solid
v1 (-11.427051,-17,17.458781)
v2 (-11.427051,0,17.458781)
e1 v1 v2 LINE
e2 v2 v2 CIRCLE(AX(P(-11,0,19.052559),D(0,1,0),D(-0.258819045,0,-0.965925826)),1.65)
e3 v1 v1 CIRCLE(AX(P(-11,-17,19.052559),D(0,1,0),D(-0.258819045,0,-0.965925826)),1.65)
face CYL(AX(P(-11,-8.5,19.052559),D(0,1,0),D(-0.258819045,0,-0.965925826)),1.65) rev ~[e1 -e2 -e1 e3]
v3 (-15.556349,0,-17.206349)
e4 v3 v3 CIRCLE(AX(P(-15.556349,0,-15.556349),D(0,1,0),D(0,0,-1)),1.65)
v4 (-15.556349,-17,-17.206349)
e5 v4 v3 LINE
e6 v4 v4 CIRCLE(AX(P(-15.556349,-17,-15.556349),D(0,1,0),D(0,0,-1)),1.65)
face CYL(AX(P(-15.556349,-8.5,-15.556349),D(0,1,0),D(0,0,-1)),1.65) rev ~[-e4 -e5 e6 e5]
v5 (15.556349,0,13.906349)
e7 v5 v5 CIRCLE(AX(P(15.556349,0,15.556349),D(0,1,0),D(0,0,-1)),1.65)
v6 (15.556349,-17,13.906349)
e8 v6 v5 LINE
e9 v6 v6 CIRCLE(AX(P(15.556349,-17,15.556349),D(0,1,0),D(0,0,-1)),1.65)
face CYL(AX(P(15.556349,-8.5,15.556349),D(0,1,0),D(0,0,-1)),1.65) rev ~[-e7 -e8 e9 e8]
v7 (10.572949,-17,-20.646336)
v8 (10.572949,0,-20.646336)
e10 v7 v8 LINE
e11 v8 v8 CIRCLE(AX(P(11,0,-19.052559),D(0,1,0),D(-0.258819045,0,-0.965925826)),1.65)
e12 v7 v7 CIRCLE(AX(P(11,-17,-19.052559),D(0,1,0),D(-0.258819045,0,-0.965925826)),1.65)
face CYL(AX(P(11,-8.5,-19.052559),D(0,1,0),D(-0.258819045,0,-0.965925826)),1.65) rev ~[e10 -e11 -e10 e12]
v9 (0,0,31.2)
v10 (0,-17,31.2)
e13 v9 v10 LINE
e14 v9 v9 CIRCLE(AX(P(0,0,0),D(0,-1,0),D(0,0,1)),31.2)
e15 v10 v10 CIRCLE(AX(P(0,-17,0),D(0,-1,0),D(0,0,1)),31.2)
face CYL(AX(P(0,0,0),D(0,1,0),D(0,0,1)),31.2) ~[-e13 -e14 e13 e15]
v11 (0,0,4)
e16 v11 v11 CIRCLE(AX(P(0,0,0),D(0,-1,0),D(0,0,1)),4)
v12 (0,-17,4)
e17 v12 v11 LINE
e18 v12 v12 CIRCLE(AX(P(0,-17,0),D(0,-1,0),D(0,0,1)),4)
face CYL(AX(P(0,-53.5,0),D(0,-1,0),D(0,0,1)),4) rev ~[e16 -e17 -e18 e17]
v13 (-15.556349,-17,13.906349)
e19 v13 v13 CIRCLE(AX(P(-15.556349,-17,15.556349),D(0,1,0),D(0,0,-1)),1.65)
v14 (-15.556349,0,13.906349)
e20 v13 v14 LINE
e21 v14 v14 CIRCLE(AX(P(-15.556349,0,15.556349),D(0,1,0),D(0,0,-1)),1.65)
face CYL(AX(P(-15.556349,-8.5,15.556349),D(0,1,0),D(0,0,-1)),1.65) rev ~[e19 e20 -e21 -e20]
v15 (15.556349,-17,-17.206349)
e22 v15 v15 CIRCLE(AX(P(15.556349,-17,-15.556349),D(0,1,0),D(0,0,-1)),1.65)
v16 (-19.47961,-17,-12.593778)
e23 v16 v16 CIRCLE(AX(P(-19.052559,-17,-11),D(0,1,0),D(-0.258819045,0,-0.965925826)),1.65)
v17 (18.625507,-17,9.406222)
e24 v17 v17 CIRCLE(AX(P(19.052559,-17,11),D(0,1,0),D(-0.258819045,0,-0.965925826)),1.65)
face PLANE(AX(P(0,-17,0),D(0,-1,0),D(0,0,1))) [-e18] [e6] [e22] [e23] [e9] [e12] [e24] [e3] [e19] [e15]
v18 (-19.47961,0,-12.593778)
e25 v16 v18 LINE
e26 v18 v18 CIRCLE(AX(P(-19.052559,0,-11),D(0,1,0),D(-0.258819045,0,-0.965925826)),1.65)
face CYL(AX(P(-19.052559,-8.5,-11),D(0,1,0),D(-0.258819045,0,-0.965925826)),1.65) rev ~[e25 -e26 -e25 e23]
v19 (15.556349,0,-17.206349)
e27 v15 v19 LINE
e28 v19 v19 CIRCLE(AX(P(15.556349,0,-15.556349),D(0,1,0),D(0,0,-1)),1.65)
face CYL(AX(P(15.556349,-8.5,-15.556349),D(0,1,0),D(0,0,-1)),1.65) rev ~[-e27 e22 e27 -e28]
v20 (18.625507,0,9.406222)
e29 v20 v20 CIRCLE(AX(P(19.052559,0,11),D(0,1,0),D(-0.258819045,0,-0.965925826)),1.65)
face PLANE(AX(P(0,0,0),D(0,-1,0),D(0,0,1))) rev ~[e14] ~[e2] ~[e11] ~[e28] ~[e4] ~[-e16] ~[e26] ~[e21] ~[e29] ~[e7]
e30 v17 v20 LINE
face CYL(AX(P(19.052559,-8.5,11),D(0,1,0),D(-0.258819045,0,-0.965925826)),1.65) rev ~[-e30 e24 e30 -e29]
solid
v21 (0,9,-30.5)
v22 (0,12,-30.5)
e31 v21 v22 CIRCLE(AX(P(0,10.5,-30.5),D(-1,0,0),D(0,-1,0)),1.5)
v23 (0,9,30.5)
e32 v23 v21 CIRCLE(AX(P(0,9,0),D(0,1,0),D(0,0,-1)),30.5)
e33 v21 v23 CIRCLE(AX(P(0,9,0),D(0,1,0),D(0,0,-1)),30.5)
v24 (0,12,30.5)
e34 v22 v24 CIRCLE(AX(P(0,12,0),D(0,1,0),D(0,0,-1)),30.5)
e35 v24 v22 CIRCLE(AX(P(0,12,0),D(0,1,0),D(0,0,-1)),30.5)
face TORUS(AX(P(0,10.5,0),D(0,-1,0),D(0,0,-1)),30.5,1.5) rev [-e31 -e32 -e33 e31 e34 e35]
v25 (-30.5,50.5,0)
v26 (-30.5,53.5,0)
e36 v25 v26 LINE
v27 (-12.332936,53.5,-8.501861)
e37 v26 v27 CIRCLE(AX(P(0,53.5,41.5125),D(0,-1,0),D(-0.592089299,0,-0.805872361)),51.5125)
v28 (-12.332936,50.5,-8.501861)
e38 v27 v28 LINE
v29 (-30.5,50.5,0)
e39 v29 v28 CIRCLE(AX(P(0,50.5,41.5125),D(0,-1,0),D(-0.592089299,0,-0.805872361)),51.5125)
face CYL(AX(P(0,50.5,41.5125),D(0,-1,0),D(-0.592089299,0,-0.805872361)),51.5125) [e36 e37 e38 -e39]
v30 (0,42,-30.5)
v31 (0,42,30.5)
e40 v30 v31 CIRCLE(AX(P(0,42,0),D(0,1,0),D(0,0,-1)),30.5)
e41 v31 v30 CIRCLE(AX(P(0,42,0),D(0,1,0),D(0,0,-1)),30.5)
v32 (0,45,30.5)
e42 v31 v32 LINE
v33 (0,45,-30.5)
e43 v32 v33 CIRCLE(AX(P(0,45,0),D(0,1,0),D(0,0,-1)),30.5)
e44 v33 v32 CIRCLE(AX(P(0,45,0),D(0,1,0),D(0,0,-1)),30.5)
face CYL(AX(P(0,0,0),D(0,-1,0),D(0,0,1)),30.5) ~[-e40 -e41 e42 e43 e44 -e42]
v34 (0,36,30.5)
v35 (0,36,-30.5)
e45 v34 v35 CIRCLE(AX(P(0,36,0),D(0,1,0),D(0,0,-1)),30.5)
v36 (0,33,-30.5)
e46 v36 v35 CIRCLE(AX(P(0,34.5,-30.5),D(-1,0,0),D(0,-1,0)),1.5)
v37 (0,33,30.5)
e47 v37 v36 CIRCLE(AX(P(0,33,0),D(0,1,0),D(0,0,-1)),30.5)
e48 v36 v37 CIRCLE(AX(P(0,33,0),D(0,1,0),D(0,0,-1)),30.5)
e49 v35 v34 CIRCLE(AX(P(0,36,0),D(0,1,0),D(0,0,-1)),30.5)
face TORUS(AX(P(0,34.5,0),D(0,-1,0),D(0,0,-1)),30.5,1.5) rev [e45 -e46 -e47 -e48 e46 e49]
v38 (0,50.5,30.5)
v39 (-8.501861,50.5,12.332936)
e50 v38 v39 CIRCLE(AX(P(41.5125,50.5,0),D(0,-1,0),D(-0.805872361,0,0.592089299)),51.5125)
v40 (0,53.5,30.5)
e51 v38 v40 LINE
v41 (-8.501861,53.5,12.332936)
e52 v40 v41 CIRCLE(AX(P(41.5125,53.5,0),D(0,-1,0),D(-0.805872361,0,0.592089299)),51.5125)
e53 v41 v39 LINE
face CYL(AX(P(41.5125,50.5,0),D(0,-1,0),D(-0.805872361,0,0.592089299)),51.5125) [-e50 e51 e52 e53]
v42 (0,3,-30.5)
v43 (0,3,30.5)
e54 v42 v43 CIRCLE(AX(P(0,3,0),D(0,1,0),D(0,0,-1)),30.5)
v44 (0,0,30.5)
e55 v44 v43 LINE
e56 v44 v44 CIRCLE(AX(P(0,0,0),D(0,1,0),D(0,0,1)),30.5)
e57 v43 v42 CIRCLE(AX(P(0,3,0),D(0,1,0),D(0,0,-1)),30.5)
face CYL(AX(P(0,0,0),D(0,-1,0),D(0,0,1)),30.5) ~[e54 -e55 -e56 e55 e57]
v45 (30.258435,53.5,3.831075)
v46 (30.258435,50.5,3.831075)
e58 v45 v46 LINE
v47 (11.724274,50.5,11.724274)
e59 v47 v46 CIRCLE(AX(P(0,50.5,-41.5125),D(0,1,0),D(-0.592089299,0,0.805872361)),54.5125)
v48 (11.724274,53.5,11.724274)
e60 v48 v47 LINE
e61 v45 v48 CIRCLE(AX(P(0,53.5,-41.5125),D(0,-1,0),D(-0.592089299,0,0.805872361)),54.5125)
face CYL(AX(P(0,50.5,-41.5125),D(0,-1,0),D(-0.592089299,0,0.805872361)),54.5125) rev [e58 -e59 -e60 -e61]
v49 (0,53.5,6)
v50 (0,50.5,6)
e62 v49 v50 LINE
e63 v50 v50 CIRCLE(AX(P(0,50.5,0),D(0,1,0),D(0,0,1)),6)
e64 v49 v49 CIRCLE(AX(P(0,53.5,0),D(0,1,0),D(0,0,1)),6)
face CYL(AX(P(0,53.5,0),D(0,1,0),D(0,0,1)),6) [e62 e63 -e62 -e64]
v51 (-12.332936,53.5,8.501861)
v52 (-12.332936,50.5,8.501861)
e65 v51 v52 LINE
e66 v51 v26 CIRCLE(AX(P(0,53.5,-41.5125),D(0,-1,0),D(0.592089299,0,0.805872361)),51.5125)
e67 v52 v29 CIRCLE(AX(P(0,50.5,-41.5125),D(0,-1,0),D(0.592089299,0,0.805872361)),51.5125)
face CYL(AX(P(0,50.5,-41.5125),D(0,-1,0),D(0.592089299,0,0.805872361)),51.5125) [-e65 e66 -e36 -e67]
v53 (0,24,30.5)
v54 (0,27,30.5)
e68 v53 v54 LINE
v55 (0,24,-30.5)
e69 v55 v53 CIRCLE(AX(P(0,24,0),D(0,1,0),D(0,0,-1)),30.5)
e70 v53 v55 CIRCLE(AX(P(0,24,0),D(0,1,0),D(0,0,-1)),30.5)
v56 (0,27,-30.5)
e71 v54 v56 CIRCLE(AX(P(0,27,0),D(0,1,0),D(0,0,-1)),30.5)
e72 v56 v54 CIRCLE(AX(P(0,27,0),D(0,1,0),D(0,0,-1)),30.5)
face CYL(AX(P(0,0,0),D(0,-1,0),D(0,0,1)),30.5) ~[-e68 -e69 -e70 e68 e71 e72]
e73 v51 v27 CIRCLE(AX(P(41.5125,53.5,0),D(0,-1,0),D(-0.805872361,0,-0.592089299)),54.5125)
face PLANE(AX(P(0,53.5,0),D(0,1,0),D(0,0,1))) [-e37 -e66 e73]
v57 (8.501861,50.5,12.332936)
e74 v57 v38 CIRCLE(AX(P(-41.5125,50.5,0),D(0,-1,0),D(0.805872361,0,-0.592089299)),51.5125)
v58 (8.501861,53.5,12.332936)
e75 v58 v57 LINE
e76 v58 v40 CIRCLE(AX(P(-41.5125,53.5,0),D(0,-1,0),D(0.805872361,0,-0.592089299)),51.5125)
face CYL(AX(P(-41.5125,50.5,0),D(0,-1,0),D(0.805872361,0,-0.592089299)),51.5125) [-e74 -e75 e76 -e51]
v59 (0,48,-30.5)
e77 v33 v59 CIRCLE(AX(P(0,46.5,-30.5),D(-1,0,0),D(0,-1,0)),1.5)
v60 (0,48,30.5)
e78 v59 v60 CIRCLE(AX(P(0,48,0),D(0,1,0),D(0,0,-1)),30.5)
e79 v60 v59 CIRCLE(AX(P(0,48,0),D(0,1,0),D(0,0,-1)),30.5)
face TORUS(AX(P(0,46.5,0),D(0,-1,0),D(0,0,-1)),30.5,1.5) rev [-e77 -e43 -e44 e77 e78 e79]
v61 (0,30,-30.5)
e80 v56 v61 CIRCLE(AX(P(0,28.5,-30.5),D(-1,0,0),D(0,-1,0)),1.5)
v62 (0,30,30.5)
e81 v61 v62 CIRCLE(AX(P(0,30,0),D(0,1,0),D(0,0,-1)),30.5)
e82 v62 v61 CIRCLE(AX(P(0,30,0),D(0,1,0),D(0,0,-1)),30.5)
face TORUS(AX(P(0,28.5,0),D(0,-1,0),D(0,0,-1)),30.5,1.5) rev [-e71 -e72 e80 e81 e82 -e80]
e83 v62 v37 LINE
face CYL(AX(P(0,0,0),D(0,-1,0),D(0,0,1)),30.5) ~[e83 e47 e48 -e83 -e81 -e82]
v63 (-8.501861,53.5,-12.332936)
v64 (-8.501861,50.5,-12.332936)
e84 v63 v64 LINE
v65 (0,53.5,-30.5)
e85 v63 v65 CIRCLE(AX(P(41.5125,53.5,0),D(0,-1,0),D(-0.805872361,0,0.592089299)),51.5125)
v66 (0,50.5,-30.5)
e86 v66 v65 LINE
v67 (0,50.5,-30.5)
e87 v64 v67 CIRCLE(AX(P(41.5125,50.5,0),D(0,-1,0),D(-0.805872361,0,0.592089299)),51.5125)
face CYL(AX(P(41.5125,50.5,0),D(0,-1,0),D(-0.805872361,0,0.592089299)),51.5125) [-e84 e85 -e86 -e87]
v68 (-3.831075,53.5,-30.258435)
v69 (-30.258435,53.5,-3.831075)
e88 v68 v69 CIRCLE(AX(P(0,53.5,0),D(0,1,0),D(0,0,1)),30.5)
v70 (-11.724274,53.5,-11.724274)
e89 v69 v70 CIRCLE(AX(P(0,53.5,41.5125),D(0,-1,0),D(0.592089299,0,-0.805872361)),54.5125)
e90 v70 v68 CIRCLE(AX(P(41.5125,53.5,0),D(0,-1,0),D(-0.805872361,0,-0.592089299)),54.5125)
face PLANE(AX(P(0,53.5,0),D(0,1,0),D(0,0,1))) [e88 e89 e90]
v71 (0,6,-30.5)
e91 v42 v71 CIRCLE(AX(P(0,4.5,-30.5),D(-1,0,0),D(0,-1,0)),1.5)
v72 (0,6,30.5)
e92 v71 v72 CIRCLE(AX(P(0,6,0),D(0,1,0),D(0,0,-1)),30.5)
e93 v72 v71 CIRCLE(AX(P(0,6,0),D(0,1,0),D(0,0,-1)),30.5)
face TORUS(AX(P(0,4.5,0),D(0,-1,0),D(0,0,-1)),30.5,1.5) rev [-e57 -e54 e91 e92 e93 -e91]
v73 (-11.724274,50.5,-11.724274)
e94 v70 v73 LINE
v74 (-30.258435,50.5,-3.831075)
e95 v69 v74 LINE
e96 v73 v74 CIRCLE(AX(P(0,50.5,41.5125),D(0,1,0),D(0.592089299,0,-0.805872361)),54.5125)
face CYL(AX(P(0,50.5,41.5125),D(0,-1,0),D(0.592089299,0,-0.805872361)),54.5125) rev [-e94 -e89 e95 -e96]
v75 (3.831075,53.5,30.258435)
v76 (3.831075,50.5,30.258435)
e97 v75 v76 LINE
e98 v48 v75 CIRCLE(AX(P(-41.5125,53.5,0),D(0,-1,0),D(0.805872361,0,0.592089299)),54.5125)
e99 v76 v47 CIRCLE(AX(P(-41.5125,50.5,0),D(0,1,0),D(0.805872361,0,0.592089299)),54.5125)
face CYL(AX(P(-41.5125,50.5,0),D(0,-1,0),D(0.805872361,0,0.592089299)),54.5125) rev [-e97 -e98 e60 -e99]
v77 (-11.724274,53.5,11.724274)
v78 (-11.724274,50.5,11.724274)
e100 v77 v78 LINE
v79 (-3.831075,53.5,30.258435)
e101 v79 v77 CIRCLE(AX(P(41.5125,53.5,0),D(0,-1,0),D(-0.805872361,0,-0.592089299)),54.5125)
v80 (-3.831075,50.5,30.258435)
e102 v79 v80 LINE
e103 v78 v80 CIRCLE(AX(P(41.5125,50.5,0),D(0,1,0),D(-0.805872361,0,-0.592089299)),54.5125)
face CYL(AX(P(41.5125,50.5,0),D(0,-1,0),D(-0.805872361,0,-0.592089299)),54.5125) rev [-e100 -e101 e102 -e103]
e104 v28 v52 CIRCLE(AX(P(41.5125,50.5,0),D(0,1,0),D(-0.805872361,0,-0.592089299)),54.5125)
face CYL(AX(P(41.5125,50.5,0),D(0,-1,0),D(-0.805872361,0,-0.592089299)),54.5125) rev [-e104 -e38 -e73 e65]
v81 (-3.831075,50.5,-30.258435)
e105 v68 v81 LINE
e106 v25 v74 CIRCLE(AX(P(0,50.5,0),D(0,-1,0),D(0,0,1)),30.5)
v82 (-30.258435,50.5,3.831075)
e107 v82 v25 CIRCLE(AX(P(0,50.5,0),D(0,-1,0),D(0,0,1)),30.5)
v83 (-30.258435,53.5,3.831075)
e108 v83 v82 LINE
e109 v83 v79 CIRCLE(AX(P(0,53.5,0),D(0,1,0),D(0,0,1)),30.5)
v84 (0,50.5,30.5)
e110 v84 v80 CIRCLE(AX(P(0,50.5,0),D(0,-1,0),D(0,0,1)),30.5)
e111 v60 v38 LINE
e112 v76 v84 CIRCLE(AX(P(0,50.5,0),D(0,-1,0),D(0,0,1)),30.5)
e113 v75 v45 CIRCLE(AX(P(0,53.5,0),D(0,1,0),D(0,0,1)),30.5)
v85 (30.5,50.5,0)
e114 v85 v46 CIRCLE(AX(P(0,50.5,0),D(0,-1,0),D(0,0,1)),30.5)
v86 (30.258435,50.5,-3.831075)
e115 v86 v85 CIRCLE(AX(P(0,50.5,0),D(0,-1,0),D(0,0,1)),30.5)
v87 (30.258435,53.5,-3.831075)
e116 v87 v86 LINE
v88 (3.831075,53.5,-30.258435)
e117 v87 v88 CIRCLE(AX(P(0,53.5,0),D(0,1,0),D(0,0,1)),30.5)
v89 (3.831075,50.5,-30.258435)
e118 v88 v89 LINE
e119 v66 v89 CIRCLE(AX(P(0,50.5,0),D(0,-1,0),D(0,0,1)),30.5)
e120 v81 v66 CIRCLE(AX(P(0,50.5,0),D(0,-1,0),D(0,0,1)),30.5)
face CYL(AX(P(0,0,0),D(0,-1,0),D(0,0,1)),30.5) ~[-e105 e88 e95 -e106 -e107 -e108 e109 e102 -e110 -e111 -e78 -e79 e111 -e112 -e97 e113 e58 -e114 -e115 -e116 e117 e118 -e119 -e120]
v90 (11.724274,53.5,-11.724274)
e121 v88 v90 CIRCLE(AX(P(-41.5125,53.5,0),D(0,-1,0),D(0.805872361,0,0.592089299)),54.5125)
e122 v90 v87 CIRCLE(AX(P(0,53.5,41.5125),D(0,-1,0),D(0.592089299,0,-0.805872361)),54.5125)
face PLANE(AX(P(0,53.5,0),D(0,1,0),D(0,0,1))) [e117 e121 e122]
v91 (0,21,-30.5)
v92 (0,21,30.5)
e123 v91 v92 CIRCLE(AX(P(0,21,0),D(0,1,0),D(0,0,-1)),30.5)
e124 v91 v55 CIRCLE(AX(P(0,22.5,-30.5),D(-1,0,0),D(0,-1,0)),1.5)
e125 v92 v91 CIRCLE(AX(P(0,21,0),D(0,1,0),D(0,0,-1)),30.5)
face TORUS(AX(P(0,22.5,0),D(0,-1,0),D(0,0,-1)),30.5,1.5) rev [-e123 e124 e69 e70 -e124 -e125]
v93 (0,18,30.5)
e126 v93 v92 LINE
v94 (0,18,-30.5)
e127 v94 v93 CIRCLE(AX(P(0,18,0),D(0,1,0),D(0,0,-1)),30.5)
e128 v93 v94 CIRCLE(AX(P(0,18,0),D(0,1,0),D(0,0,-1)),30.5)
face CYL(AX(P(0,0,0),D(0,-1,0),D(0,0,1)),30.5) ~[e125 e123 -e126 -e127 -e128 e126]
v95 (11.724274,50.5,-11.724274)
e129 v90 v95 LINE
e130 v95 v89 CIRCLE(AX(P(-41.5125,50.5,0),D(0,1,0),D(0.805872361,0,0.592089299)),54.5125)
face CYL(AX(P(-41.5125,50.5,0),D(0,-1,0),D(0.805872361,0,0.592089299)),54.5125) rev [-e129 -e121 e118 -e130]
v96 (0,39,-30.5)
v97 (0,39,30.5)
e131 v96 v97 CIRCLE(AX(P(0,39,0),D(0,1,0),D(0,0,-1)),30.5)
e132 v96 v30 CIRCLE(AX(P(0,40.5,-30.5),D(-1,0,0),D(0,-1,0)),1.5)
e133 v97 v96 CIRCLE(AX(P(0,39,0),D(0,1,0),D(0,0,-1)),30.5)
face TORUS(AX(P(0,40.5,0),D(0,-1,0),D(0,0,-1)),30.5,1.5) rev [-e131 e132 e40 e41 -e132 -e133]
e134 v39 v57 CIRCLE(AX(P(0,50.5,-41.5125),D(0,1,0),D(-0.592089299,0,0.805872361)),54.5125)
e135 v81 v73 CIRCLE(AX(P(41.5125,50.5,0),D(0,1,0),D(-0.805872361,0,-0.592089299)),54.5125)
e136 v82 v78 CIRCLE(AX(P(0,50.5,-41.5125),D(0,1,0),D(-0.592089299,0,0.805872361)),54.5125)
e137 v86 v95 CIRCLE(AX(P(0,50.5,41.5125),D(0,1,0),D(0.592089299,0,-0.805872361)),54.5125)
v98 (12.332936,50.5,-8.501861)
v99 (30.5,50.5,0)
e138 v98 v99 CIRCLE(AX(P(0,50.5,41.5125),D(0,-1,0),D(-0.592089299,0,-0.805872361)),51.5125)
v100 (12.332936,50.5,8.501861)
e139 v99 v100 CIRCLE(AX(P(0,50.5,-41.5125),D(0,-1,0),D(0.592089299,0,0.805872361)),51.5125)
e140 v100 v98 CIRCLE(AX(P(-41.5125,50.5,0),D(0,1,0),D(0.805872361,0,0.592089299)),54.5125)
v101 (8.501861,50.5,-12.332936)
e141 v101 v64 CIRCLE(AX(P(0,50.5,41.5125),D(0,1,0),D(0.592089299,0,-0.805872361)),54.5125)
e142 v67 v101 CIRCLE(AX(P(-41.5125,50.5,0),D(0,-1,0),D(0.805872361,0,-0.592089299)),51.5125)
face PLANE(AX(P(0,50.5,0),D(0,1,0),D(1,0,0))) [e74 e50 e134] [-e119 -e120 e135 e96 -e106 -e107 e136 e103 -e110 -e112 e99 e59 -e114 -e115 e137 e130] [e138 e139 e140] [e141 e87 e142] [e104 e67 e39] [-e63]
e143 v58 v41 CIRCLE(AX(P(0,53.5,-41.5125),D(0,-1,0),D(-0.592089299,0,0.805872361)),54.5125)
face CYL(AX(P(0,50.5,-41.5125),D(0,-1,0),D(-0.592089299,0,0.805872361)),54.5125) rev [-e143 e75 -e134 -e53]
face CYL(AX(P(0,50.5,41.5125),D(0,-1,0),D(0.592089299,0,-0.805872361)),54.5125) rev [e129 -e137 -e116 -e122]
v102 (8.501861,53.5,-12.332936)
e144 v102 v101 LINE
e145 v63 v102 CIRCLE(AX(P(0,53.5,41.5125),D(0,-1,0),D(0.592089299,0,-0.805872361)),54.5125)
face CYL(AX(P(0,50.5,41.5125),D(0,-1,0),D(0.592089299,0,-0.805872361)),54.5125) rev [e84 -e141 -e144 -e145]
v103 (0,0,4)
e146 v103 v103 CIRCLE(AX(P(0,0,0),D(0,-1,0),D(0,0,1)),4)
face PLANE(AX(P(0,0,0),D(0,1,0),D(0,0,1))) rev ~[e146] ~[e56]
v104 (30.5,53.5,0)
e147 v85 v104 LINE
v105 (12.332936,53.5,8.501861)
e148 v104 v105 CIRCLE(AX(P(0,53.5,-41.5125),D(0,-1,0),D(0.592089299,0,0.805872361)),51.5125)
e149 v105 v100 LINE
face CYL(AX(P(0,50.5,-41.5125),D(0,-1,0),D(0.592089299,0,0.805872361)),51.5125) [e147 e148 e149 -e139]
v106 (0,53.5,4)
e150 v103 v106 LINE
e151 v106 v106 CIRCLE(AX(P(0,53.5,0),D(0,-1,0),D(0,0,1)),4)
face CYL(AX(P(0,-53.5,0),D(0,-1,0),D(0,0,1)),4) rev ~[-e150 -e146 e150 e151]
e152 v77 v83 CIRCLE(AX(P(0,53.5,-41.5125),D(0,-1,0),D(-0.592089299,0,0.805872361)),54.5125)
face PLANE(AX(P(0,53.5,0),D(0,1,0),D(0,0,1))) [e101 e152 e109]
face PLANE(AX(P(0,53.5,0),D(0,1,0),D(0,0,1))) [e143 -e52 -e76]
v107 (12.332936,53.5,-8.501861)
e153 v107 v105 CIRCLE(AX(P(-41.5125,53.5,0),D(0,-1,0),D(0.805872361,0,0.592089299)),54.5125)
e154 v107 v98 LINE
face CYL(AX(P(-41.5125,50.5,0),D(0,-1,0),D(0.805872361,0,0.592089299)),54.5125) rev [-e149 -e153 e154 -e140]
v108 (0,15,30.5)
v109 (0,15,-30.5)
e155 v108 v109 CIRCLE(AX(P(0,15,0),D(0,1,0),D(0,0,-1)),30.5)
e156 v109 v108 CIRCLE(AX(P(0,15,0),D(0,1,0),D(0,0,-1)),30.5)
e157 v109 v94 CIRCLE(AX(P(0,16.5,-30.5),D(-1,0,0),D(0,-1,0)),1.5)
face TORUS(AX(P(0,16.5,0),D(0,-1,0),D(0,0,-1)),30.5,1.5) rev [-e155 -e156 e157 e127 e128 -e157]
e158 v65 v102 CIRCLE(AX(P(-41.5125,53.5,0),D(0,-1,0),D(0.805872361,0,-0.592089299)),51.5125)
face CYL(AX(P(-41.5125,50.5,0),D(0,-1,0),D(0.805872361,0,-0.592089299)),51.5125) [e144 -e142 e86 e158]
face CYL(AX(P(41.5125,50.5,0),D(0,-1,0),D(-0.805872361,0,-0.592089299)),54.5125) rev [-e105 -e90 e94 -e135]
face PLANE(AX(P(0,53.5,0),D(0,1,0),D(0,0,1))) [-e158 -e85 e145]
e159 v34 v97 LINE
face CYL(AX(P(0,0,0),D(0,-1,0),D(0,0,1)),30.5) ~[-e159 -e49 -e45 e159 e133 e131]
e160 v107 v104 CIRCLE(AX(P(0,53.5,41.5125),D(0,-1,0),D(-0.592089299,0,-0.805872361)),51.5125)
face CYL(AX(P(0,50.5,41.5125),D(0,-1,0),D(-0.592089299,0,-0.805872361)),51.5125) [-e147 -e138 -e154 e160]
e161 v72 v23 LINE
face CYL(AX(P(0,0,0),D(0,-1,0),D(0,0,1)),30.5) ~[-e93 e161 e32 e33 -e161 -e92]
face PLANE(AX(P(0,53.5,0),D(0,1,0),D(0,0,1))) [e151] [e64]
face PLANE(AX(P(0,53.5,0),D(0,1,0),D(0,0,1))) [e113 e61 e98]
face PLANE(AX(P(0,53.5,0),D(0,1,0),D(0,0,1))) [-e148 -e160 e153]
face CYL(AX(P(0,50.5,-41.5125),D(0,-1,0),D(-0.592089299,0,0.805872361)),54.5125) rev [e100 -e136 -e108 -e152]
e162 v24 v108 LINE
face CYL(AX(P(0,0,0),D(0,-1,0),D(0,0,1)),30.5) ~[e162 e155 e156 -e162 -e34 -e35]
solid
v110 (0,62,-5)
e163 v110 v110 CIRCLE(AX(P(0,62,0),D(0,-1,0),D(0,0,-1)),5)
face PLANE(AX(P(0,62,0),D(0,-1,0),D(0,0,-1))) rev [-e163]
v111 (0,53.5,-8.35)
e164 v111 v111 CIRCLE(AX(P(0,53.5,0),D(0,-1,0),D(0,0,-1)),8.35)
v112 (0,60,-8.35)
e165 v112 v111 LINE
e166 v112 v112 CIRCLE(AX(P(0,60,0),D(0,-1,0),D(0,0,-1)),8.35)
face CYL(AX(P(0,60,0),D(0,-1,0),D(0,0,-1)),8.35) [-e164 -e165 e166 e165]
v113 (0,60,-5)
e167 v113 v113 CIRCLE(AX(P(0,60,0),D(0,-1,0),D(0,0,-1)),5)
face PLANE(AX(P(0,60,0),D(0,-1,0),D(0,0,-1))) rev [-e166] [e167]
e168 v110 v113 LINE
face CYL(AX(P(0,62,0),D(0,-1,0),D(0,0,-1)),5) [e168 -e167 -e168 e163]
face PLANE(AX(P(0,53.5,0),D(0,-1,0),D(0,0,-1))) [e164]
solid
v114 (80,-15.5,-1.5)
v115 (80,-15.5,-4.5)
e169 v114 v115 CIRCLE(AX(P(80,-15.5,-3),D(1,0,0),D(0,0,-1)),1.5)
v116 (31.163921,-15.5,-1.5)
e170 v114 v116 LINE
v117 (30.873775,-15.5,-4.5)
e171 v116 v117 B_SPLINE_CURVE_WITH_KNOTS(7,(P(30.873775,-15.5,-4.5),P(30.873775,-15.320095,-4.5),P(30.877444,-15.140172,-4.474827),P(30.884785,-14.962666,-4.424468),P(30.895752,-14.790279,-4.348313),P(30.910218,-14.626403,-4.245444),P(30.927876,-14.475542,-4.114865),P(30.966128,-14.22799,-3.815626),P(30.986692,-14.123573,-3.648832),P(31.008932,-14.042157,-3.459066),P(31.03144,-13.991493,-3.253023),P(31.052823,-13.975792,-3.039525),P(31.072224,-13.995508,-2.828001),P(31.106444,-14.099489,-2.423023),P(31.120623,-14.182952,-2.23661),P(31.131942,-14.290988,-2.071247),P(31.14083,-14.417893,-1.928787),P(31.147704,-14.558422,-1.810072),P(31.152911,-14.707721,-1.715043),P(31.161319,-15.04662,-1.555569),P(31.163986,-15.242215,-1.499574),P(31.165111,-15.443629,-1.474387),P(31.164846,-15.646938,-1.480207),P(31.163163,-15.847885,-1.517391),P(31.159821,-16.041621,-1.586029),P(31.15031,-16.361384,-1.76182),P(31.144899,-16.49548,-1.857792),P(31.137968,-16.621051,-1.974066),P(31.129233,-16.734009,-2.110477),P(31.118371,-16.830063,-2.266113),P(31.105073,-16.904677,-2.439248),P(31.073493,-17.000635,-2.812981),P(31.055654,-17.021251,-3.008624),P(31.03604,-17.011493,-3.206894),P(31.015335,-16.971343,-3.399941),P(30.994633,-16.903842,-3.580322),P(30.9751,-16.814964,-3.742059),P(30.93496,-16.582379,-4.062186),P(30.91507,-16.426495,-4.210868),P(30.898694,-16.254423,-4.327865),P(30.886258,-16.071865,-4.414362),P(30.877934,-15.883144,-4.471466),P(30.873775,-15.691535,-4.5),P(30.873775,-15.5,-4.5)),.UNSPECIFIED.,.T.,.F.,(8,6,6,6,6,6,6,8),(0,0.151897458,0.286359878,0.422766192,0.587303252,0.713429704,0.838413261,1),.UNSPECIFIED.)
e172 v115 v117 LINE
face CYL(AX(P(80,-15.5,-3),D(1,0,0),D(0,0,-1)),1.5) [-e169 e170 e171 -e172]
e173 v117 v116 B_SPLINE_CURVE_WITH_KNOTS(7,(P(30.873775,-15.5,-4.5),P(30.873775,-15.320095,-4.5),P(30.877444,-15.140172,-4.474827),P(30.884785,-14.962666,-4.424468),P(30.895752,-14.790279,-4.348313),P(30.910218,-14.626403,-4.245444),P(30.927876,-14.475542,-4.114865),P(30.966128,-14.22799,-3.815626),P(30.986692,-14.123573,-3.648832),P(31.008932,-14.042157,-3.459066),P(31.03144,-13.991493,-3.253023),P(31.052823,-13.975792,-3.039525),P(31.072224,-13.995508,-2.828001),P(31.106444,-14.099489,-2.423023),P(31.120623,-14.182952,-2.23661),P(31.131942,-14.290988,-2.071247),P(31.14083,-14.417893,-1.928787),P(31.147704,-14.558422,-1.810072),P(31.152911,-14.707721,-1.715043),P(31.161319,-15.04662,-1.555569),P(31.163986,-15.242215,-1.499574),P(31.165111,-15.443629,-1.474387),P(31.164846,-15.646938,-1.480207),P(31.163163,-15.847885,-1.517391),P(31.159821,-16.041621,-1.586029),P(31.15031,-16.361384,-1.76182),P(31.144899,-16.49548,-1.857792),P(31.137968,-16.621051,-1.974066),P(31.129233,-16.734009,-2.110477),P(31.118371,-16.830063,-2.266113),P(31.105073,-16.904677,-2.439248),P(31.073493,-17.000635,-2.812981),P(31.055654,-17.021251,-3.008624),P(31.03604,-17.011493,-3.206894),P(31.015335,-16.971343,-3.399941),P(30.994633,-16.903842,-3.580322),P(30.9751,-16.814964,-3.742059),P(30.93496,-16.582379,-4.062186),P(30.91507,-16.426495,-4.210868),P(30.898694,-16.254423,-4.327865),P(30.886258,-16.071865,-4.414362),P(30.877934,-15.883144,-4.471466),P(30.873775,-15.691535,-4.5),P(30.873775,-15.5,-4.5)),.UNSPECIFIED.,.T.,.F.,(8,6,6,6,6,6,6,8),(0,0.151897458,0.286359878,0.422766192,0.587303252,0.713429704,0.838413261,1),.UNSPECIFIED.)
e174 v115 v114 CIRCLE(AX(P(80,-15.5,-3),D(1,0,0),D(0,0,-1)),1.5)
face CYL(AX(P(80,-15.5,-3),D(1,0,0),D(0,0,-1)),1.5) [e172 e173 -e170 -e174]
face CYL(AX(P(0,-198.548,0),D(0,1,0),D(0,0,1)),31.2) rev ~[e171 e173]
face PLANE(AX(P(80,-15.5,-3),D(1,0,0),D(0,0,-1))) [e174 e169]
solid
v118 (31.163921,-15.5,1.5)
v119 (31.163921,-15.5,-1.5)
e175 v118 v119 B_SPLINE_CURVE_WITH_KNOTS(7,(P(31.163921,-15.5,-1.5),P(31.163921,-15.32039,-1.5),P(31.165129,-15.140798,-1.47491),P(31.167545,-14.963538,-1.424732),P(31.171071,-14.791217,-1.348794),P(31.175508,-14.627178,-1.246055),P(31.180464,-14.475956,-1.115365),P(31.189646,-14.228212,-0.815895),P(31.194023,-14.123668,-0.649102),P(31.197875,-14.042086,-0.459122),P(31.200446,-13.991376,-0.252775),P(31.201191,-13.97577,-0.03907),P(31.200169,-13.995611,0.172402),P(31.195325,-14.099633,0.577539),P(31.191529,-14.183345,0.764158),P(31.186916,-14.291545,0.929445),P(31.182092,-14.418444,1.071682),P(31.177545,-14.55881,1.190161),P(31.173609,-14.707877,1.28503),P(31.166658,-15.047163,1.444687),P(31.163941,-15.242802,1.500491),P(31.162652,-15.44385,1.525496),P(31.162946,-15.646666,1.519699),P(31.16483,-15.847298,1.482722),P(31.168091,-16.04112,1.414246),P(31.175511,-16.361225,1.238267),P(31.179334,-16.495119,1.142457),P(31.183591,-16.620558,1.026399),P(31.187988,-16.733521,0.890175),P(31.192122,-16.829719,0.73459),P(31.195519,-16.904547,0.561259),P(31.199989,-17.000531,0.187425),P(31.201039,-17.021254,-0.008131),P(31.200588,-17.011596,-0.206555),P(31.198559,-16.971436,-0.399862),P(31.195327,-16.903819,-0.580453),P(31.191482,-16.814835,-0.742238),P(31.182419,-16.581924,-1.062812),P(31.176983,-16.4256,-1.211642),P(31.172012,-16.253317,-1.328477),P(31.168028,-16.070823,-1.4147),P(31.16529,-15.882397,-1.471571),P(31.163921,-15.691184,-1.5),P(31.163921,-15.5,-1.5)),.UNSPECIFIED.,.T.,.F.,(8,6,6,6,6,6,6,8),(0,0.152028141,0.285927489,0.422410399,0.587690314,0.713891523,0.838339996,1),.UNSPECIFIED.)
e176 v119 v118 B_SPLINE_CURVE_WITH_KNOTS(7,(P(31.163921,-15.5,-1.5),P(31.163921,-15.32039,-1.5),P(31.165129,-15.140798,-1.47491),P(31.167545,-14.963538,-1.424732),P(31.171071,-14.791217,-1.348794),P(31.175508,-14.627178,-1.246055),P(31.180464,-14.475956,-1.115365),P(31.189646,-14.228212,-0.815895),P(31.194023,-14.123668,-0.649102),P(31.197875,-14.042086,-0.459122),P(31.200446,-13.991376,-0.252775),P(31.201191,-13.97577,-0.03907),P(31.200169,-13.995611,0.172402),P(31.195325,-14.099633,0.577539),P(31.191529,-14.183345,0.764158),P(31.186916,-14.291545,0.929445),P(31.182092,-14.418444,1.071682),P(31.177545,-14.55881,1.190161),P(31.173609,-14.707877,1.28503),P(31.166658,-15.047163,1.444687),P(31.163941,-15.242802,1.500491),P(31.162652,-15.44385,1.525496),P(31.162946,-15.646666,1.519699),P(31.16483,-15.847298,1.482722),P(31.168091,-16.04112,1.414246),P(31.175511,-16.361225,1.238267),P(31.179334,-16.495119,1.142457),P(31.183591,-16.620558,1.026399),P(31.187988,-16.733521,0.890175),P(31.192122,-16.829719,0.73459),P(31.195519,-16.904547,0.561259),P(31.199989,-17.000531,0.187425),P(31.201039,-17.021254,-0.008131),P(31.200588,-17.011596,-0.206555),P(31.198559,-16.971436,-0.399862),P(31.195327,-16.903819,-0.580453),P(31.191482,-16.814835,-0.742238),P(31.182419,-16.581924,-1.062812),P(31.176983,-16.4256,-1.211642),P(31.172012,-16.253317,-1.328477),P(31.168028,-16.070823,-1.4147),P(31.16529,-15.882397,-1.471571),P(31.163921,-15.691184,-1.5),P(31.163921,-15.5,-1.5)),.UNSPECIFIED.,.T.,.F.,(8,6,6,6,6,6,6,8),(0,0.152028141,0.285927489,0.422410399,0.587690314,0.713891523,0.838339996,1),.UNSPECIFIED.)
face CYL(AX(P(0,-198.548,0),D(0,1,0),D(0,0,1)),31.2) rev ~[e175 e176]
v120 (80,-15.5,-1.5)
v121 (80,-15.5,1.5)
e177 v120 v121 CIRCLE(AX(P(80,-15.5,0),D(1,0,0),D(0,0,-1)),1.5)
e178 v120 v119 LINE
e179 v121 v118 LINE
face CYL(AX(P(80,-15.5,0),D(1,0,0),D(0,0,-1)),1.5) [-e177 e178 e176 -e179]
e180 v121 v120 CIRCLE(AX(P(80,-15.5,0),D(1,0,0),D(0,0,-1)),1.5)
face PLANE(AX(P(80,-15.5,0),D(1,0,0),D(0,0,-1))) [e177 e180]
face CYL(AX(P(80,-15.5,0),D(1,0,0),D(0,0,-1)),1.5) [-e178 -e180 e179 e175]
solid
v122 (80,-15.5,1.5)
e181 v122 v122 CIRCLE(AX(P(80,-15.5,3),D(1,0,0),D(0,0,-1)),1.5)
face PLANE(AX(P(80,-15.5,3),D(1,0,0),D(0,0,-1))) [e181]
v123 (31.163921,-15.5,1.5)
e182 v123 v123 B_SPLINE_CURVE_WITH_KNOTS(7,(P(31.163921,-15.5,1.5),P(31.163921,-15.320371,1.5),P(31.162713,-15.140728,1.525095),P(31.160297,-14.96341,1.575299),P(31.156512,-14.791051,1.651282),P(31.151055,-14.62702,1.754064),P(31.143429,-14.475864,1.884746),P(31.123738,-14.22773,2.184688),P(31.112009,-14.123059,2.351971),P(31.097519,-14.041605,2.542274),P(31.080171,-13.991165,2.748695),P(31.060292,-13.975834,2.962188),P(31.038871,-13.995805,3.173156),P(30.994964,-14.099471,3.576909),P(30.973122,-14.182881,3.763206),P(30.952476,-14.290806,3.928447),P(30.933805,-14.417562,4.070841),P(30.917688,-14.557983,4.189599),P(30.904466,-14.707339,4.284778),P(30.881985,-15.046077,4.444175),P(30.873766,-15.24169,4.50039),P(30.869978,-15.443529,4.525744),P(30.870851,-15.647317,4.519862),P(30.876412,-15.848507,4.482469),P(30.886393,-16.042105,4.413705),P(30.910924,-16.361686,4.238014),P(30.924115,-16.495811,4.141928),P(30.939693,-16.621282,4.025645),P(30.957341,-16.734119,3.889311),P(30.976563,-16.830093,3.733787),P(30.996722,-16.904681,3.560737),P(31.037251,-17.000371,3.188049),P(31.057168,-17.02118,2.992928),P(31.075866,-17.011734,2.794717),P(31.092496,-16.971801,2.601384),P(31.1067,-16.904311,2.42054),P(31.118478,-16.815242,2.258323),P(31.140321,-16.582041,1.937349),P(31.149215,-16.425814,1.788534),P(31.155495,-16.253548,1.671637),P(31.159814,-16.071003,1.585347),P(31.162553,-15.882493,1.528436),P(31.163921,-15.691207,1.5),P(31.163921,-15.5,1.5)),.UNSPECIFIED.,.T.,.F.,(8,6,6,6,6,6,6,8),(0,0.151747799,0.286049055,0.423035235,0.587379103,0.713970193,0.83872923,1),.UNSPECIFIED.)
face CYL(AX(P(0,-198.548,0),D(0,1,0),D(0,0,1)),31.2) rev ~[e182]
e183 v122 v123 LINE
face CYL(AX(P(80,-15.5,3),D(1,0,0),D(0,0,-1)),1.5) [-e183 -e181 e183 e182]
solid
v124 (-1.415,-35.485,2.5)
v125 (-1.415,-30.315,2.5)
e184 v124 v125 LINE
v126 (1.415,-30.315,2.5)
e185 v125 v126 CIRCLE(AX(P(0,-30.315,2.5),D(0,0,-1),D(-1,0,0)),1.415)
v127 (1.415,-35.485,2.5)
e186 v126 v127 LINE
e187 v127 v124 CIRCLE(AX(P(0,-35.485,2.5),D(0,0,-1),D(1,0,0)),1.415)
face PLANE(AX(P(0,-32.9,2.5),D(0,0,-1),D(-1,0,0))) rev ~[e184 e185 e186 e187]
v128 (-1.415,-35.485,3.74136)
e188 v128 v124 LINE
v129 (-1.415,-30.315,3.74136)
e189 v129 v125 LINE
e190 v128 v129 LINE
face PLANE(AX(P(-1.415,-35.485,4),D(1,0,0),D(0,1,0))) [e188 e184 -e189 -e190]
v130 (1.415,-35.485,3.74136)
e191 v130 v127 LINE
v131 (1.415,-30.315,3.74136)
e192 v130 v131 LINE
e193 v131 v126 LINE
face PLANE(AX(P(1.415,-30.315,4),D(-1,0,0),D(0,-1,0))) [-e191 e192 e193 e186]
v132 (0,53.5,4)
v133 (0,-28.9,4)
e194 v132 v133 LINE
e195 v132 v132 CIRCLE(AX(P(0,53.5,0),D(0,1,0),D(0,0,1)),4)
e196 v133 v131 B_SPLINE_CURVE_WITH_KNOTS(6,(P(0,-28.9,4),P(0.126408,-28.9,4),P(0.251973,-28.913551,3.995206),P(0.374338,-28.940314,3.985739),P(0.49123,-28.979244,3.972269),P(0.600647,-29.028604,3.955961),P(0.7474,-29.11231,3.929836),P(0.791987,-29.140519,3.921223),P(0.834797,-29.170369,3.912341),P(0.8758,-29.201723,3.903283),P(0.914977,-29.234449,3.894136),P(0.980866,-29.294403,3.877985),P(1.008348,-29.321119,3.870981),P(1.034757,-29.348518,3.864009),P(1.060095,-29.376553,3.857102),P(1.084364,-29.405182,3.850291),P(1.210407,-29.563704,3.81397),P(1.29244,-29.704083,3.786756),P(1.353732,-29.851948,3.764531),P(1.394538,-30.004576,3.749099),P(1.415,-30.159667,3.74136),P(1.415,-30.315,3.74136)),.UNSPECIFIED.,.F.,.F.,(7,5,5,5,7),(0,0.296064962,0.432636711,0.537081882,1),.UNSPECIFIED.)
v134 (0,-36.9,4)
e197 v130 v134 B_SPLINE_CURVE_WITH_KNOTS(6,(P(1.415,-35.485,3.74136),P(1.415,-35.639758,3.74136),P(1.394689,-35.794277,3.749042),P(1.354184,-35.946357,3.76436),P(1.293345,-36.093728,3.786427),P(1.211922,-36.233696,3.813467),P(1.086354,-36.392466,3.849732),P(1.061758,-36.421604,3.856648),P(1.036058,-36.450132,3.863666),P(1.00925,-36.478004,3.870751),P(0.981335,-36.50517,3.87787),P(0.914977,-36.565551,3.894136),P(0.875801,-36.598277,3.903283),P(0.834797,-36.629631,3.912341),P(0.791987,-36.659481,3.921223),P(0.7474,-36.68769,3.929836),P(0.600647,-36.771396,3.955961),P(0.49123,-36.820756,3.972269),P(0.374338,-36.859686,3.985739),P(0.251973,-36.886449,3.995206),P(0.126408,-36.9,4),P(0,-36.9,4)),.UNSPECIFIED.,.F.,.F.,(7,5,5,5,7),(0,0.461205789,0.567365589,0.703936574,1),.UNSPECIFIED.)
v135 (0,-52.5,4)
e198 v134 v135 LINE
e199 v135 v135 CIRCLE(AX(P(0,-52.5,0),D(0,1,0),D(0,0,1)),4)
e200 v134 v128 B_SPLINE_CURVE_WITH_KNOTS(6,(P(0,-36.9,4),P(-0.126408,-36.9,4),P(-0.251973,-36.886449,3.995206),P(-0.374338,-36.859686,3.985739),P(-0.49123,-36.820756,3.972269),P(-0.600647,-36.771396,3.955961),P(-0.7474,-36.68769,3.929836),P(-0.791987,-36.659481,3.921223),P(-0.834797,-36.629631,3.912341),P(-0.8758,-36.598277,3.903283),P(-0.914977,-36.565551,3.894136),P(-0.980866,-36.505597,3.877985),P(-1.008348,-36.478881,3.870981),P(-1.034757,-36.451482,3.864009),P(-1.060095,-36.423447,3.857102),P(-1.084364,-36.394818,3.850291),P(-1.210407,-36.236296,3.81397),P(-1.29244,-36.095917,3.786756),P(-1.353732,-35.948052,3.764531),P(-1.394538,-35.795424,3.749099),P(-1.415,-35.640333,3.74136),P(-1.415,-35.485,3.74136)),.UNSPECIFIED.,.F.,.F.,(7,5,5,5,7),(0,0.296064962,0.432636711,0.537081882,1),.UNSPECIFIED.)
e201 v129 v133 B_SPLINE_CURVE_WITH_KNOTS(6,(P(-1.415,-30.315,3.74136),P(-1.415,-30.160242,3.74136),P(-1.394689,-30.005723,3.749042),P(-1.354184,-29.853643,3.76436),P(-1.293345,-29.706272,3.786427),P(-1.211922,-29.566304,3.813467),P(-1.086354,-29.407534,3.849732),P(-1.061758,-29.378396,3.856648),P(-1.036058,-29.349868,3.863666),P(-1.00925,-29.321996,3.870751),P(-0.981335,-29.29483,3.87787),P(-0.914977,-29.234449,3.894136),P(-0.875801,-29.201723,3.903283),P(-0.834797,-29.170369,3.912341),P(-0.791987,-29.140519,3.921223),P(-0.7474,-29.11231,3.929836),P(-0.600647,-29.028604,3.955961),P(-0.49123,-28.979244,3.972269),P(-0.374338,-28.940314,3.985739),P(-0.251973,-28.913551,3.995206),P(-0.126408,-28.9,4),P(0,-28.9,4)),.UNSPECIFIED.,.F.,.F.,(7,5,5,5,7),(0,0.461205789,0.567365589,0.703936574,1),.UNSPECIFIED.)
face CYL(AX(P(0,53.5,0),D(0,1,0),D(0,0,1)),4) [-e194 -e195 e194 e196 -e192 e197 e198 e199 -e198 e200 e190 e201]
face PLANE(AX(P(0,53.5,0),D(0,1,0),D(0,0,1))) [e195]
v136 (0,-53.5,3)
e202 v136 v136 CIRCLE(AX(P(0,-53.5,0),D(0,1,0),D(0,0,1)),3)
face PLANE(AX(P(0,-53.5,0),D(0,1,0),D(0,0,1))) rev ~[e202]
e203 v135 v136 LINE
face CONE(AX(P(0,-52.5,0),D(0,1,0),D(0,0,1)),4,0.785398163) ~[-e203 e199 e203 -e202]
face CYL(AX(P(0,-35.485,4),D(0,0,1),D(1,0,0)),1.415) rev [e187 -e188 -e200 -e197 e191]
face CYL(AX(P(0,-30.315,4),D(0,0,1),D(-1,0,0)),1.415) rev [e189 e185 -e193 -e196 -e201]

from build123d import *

# Parameters (mm, degrees)
SKETCH1_R                            = 30.5
BOSS_EXTRUDE1_DEPTH                  = 53.5
SKETCH3_R                            = 31.2
BOSS_EXTRUDE3_DEPTH                  = 17
BOSS_EXTRUDE2_START                  = 53.5
SKETCH2_R                            = 4
BOSS_EXTRUDE2_DEPTH                  = 107
LPATTERN3_COUNT                      = 8
LPATTERN3_PITCH                      = 6
SKETCH6_W                            = 1.65
SKETCH6_H                            = 17
TAP_DRILL_FOR_M4X0_7_TAP1_AT_2_COUNT = 2
TAP_DRILL_FOR_M4X0_7_TAP1_AT_2_PITCH = 44
TAP_DRILL_FOR_M4X0_7_TAP1_AT_3_COUNT = 2
TAP_DRILL_FOR_M4X0_7_TAP1_AT_3_PITCH = 31.112698372
TAP_DRILL_FOR_M4X0_7_TAP1_AT_4_COUNT = 2
TAP_DRILL_FOR_M4X0_7_TAP1_AT_4_PITCH = 31.112698372
CIRPATTERN1_COUNT                    = 2
CIRPATTERN1_ANGLE                    = 15
CIRPATTERN1_COPY_1_SKETCH_W          = 1.65
CIRPATTERN1_COPY_1_SKETCH_H          = 17
CIRPATTERN1_COPY_2_SKETCH_W          = 1.65
CIRPATTERN1_COPY_2_SKETCH_H          = 17
CIRPATTERN1_COPY_3_SKETCH_W          = 1.65
CIRPATTERN1_COPY_3_SKETCH_H          = 17
SKETCH7_R                            = 4
CUT_EXTRUDE1_DEPTH                   = 116.74057197
CUT_EXTRUDE_THIN1_START              = -3
CUT_EXTRUDE_THIN1_DEPTH              = 119.74057197
CIRPATTERN2_COUNT                    = 4
SKETCH9_R                            = 6
CUT_EXTRUDE2_DEPTH                   = 3
CUT_EXTRUDE3_DEPTH                   = 1.5
BOSS_EXTRUDE5_REACH                  = 151.348
BOSS_EXTRUDE5_END_RADIUS             = 31.2
BOSS_EXTRUDE5_START                  = 80
SKETCH11_R                           = 1.5
CHAMFER1_SIZE                        = 1


with BuildPart() as part:
    # Sketch1 → Boss-Extrude1 (new body)
    with BuildSketch(Plane(origin=(0, 0, 0), x_dir=(1, 0, 0), z_dir=(0, 1, 0))):
        with Locations(Location((0, 0, 0), (0, 0, 270))):
            Circle(SKETCH1_R)
    extrude(amount=BOSS_EXTRUDE1_DEPTH)

    # Sketch4 → Cut-Revolve1 (revolve, cut)
    with BuildSketch(Plane.XY, mode=Mode.PRIVATE) as cut_revolve1_sk:
        with BuildLine():
            Line((30.5, 6), (30.5, 3))
            ThreePointArc((30.5, 3), (29, 4.5), (30.5, 6))
        make_face()
    cut_revolve1 = revolve(cut_revolve1_sk.sketch.rotate(Axis((0, 0, 0), (0, 1, 0)), 90), axis=Axis((0, 0, 0), (0, 1, 0)), mode=Mode.SUBTRACT)

    # LPattern3: Cut-Revolve1 ×8
    with Locations(*[(0, i * LPATTERN3_PITCH, 0) for i in range(1, LPATTERN3_COUNT)]):
        add(cut_revolve1, mode=Mode.SUBTRACT)


with BuildPart() as body_2:
    # Sketch3 → Boss-Extrude3 (new body)
    with BuildSketch(Plane.XZ):
        with Locations(Location((0, 0, 0), (0, 0, 90))):
            Circle(SKETCH3_R)
    extrude(amount=BOSS_EXTRUDE3_DEPTH)

    # Sketch6 → Tap Drill for M4x0.7 Tap1 (revolve, cut)
    with BuildSketch(Plane(origin=(15.556349186, -17, 15.556349186), x_dir=(0, 0, -1), z_dir=(1, 0, 0))):
        with Locations((0.825, 8.5)):
            Rectangle(SKETCH6_W, SKETCH6_H)
    tap_drill_for_m4x0_7_tap1 = revolve(axis=Axis((15.556349186, -23.35, 15.556349186), (0, 1, 0)), mode=Mode.SUBTRACT)

    # Tap Drill for M4x0.7 Tap1 at 2: Tap Drill for M4x0.7 Tap1 ×2
    with Locations(*[Vector(-0.7071067811865474, 0, -0.7071067811865477) * (i * TAP_DRILL_FOR_M4X0_7_TAP1_AT_2_PITCH) for i in range(1, TAP_DRILL_FOR_M4X0_7_TAP1_AT_2_COUNT)]):
        add(tap_drill_for_m4x0_7_tap1, mode=Mode.SUBTRACT)

    # Tap Drill for M4x0.7 Tap1 at 3: Tap Drill for M4x0.7 Tap1 ×2
    with Locations(*[(-i * TAP_DRILL_FOR_M4X0_7_TAP1_AT_3_PITCH, 0, 0) for i in range(1, TAP_DRILL_FOR_M4X0_7_TAP1_AT_3_COUNT)]):
        add(tap_drill_for_m4x0_7_tap1, mode=Mode.SUBTRACT)

    # Tap Drill for M4x0.7 Tap1 at 4: Tap Drill for M4x0.7 Tap1 ×2
    with Locations(*[(0, 0, -i * TAP_DRILL_FOR_M4X0_7_TAP1_AT_4_PITCH) for i in range(1, TAP_DRILL_FOR_M4X0_7_TAP1_AT_4_COUNT)]):
        add(tap_drill_for_m4x0_7_tap1, mode=Mode.SUBTRACT)

    # CirPattern1: Tap Drill for M4x0.7 Tap1 ×2 about axis
    cirpattern1_axis = Axis((0, 0, 0), (0, 1, 0))
    for i in range(1, CIRPATTERN1_COUNT):
        add(tap_drill_for_m4x0_7_tap1.rotate(cirpattern1_axis, i * CIRPATTERN1_ANGLE / (CIRPATTERN1_COUNT - 1)), mode=Mode.SUBTRACT)

    # CirPattern1 copy 1 sketch → CirPattern1 copy 1 (revolve, cut)
    with BuildSketch(Plane(origin=(-19.052558883, -17, -11), x_dir=(-0.2588190451025214, 0, -0.9659258262890681), z_dir=(0.9659258262890681, 0, -0.2588190451025214))):
        with Locations((0.825, 8.5)):
            Rectangle(CIRPATTERN1_COPY_1_SKETCH_W, CIRPATTERN1_COPY_1_SKETCH_H)
    revolve(axis=Axis((-19.052558883, -23.35, -11), (0, 1, 0)), mode=Mode.SUBTRACT)

    # CirPattern1 copy 2 sketch → CirPattern1 copy 2 (revolve, cut)
    with BuildSketch(Plane(origin=(-11, -17, 19.052558883), x_dir=(-0.2588190451025214, 0, -0.9659258262890681), z_dir=(0.9659258262890681, 0, -0.2588190451025214))):
        with Locations((0.825, 8.5)):
            Rectangle(CIRPATTERN1_COPY_2_SKETCH_W, CIRPATTERN1_COPY_2_SKETCH_H)
    revolve(axis=Axis((-11, -23.35, 19.052558883), (0, 1, 0)), mode=Mode.SUBTRACT)

    # CirPattern1 copy 3 sketch → CirPattern1 copy 3 (revolve, cut)
    with BuildSketch(Plane(origin=(11, -17, -19.052558883), x_dir=(-0.2588190451025214, 0, -0.9659258262890681), z_dir=(0.9659258262890681, 0, -0.2588190451025214))):
        with Locations((0.825, 8.5)):
            Rectangle(CIRPATTERN1_COPY_3_SKETCH_W, CIRPATTERN1_COPY_3_SKETCH_H)
    revolve(axis=Axis((11, -23.35, -19.052558883), (0, 1, 0)), mode=Mode.SUBTRACT)


with BuildPart() as body_3:
    # Sketch2 → Boss-Extrude2 (new body)
    with BuildSketch(Plane(origin=(0, 0, 0), x_dir=(1, 0, 0), z_dir=(0, 1, 0)).offset(BOSS_EXTRUDE2_START)):
        with Locations(Location((0, 0, 0), (0, 0, 270))):
            Circle(SKETCH2_R)
    extrude(amount=-BOSS_EXTRUDE2_DEPTH)

    # Sketch10 → Cut-Extrude3 (cut)
    with BuildSketch(Plane.XY.offset(4)):
        with BuildLine():
            Line((1.415, -30.315), (1.415, -35.485))
            ThreePointArc((1.415, -35.485), (0, -36.9), (-1.415, -35.485))
            Line((-1.415, -35.485), (-1.415, -30.315))
            ThreePointArc((-1.415, -30.315), (0, -28.9), (1.415, -30.315))
        make_face()
    extrude(amount=-CUT_EXTRUDE3_DEPTH, mode=Mode.SUBTRACT)

    # Chamfer1
    chamfer1_edges = [body_3.edges().sort_by_distance(p)[0] for p in [
        (0, -53.5, -4),
    ]]
    chamfer(chamfer1_edges, length=CHAMFER1_SIZE)


with BuildPart() as cut_extrude1_tool:
    # Sketch7 → Cut-Extrude1 (new, through all)
    with BuildSketch(Plane.XZ.offset(53.5)):
        with Locations(Location((0, 0, 0), (0, 0, 90))):
            Circle(SKETCH7_R)
    extrude(amount=-CUT_EXTRUDE1_DEPTH)


with BuildPart() as body_2_1:
    add(body_2.part)

    # Cut-Extrude1: cut by cut_extrude1_tool
    add(cut_extrude1_tool.part, mode=Mode.SUBTRACT)


with BuildPart() as part_1:
    add(part.part)

    # Cut-Extrude1: cut by cut_extrude1_tool
    add(cut_extrude1_tool.part, mode=Mode.SUBTRACT)

    # Sketch8 → Cut-Extrude-Thin1 (cut)
    with BuildSketch(Plane(origin=(0, 53.5, 0), x_dir=(1, 0, 0), z_dir=(0, 1, 0)).offset(CUT_EXTRUDE_THIN1_START)):
        with BuildLine():
            ThreePointArc((0, -30.5), (-10, 0), (0, 30.5))
            Line((0, 30.5), (-2.417617083, 32.276267896))
            ThreePointArc((-2.417617083, 32.276267896), (-13, 0), (-2.417617083, -32.276267896))
            Line((-2.417617083, -32.276267896), (0, -30.5))
        make_face()
    cut_extrude_thin1 = extrude(amount=CUT_EXTRUDE_THIN1_DEPTH, mode=Mode.SUBTRACT)

    # CirPattern2: Cut-Extrude-Thin1 ×4 about axis
    cirpattern2_axis = Axis((0, 0, 0), (0, 1, 0))
    for i in range(1, CIRPATTERN2_COUNT):
        add(cut_extrude_thin1.rotate(cirpattern2_axis, i * 360 / CIRPATTERN2_COUNT), mode=Mode.SUBTRACT)

    # Sketch9 → Cut-Extrude2 (cut)
    with BuildSketch(Plane(origin=(0, 53.5, 0), x_dir=(1, 0, 0), z_dir=(0, 1, 0))):
        with BuildLine():
            ThreePointArc((9.176122343, -9.176122343), (10, 0), (9.176122343, 9.176122343))
            ThreePointArc((9.176122343, 9.176122343), (0, 10), (-9.176122343, 9.176122343))
            ThreePointArc((-9.176122343, 9.176122343), (-10, 0), (-9.176122343, -9.176122343))
            ThreePointArc((-9.176122343, -9.176122343), (0, -10), (9.176122343, -9.176122343))
        make_face()
        with Locations(Location((0, 0, 0), (0, 0, 270))):
            Circle(SKETCH9_R, mode=Mode.SUBTRACT)
    extrude(amount=-CUT_EXTRUDE2_DEPTH, mode=Mode.SUBTRACT)


with BuildPart() as body_4:
    # Boss-Extrude5: up to this cylinder (the profile starts outside it)
    boss_extrude5_end = Plane(origin=(0, -15.5, 0), z_dir=(0, 1, 0)) * Cylinder(BOSS_EXTRUDE5_END_RADIUS, 366.096, mode=Mode.PRIVATE)
    # Sketch11 → Boss-Extrude5 (new, up to the surface)
    with BuildSketch(Plane(origin=(0, 0, 0), x_dir=(0, 0, -1), z_dir=(1, 0, 0)).offset(BOSS_EXTRUDE5_START), mode=Mode.PRIVATE) as boss_extrude5_sk1:
        with Locations((-3, -15.5)):
            Circle(SKETCH11_R)
    boss_extrude5_tool1 = extrude(boss_extrude5_sk1.sketch, amount=-BOSS_EXTRUDE5_REACH, mode=Mode.PRIVATE) - boss_extrude5_end
    add(boss_extrude5_tool1.solids().sort_by_distance((80, -15.5, 3))[0])
    # Sketch11 → Boss-Extrude5 (new, up to the surface)
    with BuildSketch(Plane(origin=(0, 0, 0), x_dir=(0, 0, -1), z_dir=(1, 0, 0)).offset(BOSS_EXTRUDE5_START), mode=Mode.PRIVATE) as boss_extrude5_sk2:
        with Locations((0, -15.5)):
            Circle(SKETCH11_R)
    boss_extrude5_tool2 = extrude(boss_extrude5_sk2.sketch, amount=-BOSS_EXTRUDE5_REACH, mode=Mode.PRIVATE) - boss_extrude5_end
    add(boss_extrude5_tool2.solids().sort_by_distance((80, -15.5, 0))[0])
    # Sketch11 → Boss-Extrude5 (new, up to the surface)
    with BuildSketch(Plane(origin=(0, 0, 0), x_dir=(0, 0, -1), z_dir=(1, 0, 0)).offset(BOSS_EXTRUDE5_START), mode=Mode.PRIVATE) as boss_extrude5_sk3:
        with Locations((3, -15.5)):
            Circle(SKETCH11_R)
    boss_extrude5_tool3 = extrude(boss_extrude5_sk3.sketch, amount=-BOSS_EXTRUDE5_REACH, mode=Mode.PRIVATE) - boss_extrude5_end
    add(boss_extrude5_tool3.solids().sort_by_distance((80, -15.5, -3))[0])


with BuildPart() as body_5:
    # Sketch12 → Revolve1 (revolve)
    with BuildSketch(Plane.XY, mode=Mode.PRIVATE) as revolve1_sk:
        Polygon((0, 62), (-5, 62), (-5, 60), (-8.35, 60), (-8.35, 53.5), (0, 53.5), align=None)
    revolve(revolve1_sk.sketch.rotate(Axis((0, 62, 0), (0, -1, 0)), 90), axis=Axis((0, 62, 0), (0, -1, 0)))


solid = Compound([body_3.part, body_2_1.part, part_1.part, body_4.part, body_5.part])
